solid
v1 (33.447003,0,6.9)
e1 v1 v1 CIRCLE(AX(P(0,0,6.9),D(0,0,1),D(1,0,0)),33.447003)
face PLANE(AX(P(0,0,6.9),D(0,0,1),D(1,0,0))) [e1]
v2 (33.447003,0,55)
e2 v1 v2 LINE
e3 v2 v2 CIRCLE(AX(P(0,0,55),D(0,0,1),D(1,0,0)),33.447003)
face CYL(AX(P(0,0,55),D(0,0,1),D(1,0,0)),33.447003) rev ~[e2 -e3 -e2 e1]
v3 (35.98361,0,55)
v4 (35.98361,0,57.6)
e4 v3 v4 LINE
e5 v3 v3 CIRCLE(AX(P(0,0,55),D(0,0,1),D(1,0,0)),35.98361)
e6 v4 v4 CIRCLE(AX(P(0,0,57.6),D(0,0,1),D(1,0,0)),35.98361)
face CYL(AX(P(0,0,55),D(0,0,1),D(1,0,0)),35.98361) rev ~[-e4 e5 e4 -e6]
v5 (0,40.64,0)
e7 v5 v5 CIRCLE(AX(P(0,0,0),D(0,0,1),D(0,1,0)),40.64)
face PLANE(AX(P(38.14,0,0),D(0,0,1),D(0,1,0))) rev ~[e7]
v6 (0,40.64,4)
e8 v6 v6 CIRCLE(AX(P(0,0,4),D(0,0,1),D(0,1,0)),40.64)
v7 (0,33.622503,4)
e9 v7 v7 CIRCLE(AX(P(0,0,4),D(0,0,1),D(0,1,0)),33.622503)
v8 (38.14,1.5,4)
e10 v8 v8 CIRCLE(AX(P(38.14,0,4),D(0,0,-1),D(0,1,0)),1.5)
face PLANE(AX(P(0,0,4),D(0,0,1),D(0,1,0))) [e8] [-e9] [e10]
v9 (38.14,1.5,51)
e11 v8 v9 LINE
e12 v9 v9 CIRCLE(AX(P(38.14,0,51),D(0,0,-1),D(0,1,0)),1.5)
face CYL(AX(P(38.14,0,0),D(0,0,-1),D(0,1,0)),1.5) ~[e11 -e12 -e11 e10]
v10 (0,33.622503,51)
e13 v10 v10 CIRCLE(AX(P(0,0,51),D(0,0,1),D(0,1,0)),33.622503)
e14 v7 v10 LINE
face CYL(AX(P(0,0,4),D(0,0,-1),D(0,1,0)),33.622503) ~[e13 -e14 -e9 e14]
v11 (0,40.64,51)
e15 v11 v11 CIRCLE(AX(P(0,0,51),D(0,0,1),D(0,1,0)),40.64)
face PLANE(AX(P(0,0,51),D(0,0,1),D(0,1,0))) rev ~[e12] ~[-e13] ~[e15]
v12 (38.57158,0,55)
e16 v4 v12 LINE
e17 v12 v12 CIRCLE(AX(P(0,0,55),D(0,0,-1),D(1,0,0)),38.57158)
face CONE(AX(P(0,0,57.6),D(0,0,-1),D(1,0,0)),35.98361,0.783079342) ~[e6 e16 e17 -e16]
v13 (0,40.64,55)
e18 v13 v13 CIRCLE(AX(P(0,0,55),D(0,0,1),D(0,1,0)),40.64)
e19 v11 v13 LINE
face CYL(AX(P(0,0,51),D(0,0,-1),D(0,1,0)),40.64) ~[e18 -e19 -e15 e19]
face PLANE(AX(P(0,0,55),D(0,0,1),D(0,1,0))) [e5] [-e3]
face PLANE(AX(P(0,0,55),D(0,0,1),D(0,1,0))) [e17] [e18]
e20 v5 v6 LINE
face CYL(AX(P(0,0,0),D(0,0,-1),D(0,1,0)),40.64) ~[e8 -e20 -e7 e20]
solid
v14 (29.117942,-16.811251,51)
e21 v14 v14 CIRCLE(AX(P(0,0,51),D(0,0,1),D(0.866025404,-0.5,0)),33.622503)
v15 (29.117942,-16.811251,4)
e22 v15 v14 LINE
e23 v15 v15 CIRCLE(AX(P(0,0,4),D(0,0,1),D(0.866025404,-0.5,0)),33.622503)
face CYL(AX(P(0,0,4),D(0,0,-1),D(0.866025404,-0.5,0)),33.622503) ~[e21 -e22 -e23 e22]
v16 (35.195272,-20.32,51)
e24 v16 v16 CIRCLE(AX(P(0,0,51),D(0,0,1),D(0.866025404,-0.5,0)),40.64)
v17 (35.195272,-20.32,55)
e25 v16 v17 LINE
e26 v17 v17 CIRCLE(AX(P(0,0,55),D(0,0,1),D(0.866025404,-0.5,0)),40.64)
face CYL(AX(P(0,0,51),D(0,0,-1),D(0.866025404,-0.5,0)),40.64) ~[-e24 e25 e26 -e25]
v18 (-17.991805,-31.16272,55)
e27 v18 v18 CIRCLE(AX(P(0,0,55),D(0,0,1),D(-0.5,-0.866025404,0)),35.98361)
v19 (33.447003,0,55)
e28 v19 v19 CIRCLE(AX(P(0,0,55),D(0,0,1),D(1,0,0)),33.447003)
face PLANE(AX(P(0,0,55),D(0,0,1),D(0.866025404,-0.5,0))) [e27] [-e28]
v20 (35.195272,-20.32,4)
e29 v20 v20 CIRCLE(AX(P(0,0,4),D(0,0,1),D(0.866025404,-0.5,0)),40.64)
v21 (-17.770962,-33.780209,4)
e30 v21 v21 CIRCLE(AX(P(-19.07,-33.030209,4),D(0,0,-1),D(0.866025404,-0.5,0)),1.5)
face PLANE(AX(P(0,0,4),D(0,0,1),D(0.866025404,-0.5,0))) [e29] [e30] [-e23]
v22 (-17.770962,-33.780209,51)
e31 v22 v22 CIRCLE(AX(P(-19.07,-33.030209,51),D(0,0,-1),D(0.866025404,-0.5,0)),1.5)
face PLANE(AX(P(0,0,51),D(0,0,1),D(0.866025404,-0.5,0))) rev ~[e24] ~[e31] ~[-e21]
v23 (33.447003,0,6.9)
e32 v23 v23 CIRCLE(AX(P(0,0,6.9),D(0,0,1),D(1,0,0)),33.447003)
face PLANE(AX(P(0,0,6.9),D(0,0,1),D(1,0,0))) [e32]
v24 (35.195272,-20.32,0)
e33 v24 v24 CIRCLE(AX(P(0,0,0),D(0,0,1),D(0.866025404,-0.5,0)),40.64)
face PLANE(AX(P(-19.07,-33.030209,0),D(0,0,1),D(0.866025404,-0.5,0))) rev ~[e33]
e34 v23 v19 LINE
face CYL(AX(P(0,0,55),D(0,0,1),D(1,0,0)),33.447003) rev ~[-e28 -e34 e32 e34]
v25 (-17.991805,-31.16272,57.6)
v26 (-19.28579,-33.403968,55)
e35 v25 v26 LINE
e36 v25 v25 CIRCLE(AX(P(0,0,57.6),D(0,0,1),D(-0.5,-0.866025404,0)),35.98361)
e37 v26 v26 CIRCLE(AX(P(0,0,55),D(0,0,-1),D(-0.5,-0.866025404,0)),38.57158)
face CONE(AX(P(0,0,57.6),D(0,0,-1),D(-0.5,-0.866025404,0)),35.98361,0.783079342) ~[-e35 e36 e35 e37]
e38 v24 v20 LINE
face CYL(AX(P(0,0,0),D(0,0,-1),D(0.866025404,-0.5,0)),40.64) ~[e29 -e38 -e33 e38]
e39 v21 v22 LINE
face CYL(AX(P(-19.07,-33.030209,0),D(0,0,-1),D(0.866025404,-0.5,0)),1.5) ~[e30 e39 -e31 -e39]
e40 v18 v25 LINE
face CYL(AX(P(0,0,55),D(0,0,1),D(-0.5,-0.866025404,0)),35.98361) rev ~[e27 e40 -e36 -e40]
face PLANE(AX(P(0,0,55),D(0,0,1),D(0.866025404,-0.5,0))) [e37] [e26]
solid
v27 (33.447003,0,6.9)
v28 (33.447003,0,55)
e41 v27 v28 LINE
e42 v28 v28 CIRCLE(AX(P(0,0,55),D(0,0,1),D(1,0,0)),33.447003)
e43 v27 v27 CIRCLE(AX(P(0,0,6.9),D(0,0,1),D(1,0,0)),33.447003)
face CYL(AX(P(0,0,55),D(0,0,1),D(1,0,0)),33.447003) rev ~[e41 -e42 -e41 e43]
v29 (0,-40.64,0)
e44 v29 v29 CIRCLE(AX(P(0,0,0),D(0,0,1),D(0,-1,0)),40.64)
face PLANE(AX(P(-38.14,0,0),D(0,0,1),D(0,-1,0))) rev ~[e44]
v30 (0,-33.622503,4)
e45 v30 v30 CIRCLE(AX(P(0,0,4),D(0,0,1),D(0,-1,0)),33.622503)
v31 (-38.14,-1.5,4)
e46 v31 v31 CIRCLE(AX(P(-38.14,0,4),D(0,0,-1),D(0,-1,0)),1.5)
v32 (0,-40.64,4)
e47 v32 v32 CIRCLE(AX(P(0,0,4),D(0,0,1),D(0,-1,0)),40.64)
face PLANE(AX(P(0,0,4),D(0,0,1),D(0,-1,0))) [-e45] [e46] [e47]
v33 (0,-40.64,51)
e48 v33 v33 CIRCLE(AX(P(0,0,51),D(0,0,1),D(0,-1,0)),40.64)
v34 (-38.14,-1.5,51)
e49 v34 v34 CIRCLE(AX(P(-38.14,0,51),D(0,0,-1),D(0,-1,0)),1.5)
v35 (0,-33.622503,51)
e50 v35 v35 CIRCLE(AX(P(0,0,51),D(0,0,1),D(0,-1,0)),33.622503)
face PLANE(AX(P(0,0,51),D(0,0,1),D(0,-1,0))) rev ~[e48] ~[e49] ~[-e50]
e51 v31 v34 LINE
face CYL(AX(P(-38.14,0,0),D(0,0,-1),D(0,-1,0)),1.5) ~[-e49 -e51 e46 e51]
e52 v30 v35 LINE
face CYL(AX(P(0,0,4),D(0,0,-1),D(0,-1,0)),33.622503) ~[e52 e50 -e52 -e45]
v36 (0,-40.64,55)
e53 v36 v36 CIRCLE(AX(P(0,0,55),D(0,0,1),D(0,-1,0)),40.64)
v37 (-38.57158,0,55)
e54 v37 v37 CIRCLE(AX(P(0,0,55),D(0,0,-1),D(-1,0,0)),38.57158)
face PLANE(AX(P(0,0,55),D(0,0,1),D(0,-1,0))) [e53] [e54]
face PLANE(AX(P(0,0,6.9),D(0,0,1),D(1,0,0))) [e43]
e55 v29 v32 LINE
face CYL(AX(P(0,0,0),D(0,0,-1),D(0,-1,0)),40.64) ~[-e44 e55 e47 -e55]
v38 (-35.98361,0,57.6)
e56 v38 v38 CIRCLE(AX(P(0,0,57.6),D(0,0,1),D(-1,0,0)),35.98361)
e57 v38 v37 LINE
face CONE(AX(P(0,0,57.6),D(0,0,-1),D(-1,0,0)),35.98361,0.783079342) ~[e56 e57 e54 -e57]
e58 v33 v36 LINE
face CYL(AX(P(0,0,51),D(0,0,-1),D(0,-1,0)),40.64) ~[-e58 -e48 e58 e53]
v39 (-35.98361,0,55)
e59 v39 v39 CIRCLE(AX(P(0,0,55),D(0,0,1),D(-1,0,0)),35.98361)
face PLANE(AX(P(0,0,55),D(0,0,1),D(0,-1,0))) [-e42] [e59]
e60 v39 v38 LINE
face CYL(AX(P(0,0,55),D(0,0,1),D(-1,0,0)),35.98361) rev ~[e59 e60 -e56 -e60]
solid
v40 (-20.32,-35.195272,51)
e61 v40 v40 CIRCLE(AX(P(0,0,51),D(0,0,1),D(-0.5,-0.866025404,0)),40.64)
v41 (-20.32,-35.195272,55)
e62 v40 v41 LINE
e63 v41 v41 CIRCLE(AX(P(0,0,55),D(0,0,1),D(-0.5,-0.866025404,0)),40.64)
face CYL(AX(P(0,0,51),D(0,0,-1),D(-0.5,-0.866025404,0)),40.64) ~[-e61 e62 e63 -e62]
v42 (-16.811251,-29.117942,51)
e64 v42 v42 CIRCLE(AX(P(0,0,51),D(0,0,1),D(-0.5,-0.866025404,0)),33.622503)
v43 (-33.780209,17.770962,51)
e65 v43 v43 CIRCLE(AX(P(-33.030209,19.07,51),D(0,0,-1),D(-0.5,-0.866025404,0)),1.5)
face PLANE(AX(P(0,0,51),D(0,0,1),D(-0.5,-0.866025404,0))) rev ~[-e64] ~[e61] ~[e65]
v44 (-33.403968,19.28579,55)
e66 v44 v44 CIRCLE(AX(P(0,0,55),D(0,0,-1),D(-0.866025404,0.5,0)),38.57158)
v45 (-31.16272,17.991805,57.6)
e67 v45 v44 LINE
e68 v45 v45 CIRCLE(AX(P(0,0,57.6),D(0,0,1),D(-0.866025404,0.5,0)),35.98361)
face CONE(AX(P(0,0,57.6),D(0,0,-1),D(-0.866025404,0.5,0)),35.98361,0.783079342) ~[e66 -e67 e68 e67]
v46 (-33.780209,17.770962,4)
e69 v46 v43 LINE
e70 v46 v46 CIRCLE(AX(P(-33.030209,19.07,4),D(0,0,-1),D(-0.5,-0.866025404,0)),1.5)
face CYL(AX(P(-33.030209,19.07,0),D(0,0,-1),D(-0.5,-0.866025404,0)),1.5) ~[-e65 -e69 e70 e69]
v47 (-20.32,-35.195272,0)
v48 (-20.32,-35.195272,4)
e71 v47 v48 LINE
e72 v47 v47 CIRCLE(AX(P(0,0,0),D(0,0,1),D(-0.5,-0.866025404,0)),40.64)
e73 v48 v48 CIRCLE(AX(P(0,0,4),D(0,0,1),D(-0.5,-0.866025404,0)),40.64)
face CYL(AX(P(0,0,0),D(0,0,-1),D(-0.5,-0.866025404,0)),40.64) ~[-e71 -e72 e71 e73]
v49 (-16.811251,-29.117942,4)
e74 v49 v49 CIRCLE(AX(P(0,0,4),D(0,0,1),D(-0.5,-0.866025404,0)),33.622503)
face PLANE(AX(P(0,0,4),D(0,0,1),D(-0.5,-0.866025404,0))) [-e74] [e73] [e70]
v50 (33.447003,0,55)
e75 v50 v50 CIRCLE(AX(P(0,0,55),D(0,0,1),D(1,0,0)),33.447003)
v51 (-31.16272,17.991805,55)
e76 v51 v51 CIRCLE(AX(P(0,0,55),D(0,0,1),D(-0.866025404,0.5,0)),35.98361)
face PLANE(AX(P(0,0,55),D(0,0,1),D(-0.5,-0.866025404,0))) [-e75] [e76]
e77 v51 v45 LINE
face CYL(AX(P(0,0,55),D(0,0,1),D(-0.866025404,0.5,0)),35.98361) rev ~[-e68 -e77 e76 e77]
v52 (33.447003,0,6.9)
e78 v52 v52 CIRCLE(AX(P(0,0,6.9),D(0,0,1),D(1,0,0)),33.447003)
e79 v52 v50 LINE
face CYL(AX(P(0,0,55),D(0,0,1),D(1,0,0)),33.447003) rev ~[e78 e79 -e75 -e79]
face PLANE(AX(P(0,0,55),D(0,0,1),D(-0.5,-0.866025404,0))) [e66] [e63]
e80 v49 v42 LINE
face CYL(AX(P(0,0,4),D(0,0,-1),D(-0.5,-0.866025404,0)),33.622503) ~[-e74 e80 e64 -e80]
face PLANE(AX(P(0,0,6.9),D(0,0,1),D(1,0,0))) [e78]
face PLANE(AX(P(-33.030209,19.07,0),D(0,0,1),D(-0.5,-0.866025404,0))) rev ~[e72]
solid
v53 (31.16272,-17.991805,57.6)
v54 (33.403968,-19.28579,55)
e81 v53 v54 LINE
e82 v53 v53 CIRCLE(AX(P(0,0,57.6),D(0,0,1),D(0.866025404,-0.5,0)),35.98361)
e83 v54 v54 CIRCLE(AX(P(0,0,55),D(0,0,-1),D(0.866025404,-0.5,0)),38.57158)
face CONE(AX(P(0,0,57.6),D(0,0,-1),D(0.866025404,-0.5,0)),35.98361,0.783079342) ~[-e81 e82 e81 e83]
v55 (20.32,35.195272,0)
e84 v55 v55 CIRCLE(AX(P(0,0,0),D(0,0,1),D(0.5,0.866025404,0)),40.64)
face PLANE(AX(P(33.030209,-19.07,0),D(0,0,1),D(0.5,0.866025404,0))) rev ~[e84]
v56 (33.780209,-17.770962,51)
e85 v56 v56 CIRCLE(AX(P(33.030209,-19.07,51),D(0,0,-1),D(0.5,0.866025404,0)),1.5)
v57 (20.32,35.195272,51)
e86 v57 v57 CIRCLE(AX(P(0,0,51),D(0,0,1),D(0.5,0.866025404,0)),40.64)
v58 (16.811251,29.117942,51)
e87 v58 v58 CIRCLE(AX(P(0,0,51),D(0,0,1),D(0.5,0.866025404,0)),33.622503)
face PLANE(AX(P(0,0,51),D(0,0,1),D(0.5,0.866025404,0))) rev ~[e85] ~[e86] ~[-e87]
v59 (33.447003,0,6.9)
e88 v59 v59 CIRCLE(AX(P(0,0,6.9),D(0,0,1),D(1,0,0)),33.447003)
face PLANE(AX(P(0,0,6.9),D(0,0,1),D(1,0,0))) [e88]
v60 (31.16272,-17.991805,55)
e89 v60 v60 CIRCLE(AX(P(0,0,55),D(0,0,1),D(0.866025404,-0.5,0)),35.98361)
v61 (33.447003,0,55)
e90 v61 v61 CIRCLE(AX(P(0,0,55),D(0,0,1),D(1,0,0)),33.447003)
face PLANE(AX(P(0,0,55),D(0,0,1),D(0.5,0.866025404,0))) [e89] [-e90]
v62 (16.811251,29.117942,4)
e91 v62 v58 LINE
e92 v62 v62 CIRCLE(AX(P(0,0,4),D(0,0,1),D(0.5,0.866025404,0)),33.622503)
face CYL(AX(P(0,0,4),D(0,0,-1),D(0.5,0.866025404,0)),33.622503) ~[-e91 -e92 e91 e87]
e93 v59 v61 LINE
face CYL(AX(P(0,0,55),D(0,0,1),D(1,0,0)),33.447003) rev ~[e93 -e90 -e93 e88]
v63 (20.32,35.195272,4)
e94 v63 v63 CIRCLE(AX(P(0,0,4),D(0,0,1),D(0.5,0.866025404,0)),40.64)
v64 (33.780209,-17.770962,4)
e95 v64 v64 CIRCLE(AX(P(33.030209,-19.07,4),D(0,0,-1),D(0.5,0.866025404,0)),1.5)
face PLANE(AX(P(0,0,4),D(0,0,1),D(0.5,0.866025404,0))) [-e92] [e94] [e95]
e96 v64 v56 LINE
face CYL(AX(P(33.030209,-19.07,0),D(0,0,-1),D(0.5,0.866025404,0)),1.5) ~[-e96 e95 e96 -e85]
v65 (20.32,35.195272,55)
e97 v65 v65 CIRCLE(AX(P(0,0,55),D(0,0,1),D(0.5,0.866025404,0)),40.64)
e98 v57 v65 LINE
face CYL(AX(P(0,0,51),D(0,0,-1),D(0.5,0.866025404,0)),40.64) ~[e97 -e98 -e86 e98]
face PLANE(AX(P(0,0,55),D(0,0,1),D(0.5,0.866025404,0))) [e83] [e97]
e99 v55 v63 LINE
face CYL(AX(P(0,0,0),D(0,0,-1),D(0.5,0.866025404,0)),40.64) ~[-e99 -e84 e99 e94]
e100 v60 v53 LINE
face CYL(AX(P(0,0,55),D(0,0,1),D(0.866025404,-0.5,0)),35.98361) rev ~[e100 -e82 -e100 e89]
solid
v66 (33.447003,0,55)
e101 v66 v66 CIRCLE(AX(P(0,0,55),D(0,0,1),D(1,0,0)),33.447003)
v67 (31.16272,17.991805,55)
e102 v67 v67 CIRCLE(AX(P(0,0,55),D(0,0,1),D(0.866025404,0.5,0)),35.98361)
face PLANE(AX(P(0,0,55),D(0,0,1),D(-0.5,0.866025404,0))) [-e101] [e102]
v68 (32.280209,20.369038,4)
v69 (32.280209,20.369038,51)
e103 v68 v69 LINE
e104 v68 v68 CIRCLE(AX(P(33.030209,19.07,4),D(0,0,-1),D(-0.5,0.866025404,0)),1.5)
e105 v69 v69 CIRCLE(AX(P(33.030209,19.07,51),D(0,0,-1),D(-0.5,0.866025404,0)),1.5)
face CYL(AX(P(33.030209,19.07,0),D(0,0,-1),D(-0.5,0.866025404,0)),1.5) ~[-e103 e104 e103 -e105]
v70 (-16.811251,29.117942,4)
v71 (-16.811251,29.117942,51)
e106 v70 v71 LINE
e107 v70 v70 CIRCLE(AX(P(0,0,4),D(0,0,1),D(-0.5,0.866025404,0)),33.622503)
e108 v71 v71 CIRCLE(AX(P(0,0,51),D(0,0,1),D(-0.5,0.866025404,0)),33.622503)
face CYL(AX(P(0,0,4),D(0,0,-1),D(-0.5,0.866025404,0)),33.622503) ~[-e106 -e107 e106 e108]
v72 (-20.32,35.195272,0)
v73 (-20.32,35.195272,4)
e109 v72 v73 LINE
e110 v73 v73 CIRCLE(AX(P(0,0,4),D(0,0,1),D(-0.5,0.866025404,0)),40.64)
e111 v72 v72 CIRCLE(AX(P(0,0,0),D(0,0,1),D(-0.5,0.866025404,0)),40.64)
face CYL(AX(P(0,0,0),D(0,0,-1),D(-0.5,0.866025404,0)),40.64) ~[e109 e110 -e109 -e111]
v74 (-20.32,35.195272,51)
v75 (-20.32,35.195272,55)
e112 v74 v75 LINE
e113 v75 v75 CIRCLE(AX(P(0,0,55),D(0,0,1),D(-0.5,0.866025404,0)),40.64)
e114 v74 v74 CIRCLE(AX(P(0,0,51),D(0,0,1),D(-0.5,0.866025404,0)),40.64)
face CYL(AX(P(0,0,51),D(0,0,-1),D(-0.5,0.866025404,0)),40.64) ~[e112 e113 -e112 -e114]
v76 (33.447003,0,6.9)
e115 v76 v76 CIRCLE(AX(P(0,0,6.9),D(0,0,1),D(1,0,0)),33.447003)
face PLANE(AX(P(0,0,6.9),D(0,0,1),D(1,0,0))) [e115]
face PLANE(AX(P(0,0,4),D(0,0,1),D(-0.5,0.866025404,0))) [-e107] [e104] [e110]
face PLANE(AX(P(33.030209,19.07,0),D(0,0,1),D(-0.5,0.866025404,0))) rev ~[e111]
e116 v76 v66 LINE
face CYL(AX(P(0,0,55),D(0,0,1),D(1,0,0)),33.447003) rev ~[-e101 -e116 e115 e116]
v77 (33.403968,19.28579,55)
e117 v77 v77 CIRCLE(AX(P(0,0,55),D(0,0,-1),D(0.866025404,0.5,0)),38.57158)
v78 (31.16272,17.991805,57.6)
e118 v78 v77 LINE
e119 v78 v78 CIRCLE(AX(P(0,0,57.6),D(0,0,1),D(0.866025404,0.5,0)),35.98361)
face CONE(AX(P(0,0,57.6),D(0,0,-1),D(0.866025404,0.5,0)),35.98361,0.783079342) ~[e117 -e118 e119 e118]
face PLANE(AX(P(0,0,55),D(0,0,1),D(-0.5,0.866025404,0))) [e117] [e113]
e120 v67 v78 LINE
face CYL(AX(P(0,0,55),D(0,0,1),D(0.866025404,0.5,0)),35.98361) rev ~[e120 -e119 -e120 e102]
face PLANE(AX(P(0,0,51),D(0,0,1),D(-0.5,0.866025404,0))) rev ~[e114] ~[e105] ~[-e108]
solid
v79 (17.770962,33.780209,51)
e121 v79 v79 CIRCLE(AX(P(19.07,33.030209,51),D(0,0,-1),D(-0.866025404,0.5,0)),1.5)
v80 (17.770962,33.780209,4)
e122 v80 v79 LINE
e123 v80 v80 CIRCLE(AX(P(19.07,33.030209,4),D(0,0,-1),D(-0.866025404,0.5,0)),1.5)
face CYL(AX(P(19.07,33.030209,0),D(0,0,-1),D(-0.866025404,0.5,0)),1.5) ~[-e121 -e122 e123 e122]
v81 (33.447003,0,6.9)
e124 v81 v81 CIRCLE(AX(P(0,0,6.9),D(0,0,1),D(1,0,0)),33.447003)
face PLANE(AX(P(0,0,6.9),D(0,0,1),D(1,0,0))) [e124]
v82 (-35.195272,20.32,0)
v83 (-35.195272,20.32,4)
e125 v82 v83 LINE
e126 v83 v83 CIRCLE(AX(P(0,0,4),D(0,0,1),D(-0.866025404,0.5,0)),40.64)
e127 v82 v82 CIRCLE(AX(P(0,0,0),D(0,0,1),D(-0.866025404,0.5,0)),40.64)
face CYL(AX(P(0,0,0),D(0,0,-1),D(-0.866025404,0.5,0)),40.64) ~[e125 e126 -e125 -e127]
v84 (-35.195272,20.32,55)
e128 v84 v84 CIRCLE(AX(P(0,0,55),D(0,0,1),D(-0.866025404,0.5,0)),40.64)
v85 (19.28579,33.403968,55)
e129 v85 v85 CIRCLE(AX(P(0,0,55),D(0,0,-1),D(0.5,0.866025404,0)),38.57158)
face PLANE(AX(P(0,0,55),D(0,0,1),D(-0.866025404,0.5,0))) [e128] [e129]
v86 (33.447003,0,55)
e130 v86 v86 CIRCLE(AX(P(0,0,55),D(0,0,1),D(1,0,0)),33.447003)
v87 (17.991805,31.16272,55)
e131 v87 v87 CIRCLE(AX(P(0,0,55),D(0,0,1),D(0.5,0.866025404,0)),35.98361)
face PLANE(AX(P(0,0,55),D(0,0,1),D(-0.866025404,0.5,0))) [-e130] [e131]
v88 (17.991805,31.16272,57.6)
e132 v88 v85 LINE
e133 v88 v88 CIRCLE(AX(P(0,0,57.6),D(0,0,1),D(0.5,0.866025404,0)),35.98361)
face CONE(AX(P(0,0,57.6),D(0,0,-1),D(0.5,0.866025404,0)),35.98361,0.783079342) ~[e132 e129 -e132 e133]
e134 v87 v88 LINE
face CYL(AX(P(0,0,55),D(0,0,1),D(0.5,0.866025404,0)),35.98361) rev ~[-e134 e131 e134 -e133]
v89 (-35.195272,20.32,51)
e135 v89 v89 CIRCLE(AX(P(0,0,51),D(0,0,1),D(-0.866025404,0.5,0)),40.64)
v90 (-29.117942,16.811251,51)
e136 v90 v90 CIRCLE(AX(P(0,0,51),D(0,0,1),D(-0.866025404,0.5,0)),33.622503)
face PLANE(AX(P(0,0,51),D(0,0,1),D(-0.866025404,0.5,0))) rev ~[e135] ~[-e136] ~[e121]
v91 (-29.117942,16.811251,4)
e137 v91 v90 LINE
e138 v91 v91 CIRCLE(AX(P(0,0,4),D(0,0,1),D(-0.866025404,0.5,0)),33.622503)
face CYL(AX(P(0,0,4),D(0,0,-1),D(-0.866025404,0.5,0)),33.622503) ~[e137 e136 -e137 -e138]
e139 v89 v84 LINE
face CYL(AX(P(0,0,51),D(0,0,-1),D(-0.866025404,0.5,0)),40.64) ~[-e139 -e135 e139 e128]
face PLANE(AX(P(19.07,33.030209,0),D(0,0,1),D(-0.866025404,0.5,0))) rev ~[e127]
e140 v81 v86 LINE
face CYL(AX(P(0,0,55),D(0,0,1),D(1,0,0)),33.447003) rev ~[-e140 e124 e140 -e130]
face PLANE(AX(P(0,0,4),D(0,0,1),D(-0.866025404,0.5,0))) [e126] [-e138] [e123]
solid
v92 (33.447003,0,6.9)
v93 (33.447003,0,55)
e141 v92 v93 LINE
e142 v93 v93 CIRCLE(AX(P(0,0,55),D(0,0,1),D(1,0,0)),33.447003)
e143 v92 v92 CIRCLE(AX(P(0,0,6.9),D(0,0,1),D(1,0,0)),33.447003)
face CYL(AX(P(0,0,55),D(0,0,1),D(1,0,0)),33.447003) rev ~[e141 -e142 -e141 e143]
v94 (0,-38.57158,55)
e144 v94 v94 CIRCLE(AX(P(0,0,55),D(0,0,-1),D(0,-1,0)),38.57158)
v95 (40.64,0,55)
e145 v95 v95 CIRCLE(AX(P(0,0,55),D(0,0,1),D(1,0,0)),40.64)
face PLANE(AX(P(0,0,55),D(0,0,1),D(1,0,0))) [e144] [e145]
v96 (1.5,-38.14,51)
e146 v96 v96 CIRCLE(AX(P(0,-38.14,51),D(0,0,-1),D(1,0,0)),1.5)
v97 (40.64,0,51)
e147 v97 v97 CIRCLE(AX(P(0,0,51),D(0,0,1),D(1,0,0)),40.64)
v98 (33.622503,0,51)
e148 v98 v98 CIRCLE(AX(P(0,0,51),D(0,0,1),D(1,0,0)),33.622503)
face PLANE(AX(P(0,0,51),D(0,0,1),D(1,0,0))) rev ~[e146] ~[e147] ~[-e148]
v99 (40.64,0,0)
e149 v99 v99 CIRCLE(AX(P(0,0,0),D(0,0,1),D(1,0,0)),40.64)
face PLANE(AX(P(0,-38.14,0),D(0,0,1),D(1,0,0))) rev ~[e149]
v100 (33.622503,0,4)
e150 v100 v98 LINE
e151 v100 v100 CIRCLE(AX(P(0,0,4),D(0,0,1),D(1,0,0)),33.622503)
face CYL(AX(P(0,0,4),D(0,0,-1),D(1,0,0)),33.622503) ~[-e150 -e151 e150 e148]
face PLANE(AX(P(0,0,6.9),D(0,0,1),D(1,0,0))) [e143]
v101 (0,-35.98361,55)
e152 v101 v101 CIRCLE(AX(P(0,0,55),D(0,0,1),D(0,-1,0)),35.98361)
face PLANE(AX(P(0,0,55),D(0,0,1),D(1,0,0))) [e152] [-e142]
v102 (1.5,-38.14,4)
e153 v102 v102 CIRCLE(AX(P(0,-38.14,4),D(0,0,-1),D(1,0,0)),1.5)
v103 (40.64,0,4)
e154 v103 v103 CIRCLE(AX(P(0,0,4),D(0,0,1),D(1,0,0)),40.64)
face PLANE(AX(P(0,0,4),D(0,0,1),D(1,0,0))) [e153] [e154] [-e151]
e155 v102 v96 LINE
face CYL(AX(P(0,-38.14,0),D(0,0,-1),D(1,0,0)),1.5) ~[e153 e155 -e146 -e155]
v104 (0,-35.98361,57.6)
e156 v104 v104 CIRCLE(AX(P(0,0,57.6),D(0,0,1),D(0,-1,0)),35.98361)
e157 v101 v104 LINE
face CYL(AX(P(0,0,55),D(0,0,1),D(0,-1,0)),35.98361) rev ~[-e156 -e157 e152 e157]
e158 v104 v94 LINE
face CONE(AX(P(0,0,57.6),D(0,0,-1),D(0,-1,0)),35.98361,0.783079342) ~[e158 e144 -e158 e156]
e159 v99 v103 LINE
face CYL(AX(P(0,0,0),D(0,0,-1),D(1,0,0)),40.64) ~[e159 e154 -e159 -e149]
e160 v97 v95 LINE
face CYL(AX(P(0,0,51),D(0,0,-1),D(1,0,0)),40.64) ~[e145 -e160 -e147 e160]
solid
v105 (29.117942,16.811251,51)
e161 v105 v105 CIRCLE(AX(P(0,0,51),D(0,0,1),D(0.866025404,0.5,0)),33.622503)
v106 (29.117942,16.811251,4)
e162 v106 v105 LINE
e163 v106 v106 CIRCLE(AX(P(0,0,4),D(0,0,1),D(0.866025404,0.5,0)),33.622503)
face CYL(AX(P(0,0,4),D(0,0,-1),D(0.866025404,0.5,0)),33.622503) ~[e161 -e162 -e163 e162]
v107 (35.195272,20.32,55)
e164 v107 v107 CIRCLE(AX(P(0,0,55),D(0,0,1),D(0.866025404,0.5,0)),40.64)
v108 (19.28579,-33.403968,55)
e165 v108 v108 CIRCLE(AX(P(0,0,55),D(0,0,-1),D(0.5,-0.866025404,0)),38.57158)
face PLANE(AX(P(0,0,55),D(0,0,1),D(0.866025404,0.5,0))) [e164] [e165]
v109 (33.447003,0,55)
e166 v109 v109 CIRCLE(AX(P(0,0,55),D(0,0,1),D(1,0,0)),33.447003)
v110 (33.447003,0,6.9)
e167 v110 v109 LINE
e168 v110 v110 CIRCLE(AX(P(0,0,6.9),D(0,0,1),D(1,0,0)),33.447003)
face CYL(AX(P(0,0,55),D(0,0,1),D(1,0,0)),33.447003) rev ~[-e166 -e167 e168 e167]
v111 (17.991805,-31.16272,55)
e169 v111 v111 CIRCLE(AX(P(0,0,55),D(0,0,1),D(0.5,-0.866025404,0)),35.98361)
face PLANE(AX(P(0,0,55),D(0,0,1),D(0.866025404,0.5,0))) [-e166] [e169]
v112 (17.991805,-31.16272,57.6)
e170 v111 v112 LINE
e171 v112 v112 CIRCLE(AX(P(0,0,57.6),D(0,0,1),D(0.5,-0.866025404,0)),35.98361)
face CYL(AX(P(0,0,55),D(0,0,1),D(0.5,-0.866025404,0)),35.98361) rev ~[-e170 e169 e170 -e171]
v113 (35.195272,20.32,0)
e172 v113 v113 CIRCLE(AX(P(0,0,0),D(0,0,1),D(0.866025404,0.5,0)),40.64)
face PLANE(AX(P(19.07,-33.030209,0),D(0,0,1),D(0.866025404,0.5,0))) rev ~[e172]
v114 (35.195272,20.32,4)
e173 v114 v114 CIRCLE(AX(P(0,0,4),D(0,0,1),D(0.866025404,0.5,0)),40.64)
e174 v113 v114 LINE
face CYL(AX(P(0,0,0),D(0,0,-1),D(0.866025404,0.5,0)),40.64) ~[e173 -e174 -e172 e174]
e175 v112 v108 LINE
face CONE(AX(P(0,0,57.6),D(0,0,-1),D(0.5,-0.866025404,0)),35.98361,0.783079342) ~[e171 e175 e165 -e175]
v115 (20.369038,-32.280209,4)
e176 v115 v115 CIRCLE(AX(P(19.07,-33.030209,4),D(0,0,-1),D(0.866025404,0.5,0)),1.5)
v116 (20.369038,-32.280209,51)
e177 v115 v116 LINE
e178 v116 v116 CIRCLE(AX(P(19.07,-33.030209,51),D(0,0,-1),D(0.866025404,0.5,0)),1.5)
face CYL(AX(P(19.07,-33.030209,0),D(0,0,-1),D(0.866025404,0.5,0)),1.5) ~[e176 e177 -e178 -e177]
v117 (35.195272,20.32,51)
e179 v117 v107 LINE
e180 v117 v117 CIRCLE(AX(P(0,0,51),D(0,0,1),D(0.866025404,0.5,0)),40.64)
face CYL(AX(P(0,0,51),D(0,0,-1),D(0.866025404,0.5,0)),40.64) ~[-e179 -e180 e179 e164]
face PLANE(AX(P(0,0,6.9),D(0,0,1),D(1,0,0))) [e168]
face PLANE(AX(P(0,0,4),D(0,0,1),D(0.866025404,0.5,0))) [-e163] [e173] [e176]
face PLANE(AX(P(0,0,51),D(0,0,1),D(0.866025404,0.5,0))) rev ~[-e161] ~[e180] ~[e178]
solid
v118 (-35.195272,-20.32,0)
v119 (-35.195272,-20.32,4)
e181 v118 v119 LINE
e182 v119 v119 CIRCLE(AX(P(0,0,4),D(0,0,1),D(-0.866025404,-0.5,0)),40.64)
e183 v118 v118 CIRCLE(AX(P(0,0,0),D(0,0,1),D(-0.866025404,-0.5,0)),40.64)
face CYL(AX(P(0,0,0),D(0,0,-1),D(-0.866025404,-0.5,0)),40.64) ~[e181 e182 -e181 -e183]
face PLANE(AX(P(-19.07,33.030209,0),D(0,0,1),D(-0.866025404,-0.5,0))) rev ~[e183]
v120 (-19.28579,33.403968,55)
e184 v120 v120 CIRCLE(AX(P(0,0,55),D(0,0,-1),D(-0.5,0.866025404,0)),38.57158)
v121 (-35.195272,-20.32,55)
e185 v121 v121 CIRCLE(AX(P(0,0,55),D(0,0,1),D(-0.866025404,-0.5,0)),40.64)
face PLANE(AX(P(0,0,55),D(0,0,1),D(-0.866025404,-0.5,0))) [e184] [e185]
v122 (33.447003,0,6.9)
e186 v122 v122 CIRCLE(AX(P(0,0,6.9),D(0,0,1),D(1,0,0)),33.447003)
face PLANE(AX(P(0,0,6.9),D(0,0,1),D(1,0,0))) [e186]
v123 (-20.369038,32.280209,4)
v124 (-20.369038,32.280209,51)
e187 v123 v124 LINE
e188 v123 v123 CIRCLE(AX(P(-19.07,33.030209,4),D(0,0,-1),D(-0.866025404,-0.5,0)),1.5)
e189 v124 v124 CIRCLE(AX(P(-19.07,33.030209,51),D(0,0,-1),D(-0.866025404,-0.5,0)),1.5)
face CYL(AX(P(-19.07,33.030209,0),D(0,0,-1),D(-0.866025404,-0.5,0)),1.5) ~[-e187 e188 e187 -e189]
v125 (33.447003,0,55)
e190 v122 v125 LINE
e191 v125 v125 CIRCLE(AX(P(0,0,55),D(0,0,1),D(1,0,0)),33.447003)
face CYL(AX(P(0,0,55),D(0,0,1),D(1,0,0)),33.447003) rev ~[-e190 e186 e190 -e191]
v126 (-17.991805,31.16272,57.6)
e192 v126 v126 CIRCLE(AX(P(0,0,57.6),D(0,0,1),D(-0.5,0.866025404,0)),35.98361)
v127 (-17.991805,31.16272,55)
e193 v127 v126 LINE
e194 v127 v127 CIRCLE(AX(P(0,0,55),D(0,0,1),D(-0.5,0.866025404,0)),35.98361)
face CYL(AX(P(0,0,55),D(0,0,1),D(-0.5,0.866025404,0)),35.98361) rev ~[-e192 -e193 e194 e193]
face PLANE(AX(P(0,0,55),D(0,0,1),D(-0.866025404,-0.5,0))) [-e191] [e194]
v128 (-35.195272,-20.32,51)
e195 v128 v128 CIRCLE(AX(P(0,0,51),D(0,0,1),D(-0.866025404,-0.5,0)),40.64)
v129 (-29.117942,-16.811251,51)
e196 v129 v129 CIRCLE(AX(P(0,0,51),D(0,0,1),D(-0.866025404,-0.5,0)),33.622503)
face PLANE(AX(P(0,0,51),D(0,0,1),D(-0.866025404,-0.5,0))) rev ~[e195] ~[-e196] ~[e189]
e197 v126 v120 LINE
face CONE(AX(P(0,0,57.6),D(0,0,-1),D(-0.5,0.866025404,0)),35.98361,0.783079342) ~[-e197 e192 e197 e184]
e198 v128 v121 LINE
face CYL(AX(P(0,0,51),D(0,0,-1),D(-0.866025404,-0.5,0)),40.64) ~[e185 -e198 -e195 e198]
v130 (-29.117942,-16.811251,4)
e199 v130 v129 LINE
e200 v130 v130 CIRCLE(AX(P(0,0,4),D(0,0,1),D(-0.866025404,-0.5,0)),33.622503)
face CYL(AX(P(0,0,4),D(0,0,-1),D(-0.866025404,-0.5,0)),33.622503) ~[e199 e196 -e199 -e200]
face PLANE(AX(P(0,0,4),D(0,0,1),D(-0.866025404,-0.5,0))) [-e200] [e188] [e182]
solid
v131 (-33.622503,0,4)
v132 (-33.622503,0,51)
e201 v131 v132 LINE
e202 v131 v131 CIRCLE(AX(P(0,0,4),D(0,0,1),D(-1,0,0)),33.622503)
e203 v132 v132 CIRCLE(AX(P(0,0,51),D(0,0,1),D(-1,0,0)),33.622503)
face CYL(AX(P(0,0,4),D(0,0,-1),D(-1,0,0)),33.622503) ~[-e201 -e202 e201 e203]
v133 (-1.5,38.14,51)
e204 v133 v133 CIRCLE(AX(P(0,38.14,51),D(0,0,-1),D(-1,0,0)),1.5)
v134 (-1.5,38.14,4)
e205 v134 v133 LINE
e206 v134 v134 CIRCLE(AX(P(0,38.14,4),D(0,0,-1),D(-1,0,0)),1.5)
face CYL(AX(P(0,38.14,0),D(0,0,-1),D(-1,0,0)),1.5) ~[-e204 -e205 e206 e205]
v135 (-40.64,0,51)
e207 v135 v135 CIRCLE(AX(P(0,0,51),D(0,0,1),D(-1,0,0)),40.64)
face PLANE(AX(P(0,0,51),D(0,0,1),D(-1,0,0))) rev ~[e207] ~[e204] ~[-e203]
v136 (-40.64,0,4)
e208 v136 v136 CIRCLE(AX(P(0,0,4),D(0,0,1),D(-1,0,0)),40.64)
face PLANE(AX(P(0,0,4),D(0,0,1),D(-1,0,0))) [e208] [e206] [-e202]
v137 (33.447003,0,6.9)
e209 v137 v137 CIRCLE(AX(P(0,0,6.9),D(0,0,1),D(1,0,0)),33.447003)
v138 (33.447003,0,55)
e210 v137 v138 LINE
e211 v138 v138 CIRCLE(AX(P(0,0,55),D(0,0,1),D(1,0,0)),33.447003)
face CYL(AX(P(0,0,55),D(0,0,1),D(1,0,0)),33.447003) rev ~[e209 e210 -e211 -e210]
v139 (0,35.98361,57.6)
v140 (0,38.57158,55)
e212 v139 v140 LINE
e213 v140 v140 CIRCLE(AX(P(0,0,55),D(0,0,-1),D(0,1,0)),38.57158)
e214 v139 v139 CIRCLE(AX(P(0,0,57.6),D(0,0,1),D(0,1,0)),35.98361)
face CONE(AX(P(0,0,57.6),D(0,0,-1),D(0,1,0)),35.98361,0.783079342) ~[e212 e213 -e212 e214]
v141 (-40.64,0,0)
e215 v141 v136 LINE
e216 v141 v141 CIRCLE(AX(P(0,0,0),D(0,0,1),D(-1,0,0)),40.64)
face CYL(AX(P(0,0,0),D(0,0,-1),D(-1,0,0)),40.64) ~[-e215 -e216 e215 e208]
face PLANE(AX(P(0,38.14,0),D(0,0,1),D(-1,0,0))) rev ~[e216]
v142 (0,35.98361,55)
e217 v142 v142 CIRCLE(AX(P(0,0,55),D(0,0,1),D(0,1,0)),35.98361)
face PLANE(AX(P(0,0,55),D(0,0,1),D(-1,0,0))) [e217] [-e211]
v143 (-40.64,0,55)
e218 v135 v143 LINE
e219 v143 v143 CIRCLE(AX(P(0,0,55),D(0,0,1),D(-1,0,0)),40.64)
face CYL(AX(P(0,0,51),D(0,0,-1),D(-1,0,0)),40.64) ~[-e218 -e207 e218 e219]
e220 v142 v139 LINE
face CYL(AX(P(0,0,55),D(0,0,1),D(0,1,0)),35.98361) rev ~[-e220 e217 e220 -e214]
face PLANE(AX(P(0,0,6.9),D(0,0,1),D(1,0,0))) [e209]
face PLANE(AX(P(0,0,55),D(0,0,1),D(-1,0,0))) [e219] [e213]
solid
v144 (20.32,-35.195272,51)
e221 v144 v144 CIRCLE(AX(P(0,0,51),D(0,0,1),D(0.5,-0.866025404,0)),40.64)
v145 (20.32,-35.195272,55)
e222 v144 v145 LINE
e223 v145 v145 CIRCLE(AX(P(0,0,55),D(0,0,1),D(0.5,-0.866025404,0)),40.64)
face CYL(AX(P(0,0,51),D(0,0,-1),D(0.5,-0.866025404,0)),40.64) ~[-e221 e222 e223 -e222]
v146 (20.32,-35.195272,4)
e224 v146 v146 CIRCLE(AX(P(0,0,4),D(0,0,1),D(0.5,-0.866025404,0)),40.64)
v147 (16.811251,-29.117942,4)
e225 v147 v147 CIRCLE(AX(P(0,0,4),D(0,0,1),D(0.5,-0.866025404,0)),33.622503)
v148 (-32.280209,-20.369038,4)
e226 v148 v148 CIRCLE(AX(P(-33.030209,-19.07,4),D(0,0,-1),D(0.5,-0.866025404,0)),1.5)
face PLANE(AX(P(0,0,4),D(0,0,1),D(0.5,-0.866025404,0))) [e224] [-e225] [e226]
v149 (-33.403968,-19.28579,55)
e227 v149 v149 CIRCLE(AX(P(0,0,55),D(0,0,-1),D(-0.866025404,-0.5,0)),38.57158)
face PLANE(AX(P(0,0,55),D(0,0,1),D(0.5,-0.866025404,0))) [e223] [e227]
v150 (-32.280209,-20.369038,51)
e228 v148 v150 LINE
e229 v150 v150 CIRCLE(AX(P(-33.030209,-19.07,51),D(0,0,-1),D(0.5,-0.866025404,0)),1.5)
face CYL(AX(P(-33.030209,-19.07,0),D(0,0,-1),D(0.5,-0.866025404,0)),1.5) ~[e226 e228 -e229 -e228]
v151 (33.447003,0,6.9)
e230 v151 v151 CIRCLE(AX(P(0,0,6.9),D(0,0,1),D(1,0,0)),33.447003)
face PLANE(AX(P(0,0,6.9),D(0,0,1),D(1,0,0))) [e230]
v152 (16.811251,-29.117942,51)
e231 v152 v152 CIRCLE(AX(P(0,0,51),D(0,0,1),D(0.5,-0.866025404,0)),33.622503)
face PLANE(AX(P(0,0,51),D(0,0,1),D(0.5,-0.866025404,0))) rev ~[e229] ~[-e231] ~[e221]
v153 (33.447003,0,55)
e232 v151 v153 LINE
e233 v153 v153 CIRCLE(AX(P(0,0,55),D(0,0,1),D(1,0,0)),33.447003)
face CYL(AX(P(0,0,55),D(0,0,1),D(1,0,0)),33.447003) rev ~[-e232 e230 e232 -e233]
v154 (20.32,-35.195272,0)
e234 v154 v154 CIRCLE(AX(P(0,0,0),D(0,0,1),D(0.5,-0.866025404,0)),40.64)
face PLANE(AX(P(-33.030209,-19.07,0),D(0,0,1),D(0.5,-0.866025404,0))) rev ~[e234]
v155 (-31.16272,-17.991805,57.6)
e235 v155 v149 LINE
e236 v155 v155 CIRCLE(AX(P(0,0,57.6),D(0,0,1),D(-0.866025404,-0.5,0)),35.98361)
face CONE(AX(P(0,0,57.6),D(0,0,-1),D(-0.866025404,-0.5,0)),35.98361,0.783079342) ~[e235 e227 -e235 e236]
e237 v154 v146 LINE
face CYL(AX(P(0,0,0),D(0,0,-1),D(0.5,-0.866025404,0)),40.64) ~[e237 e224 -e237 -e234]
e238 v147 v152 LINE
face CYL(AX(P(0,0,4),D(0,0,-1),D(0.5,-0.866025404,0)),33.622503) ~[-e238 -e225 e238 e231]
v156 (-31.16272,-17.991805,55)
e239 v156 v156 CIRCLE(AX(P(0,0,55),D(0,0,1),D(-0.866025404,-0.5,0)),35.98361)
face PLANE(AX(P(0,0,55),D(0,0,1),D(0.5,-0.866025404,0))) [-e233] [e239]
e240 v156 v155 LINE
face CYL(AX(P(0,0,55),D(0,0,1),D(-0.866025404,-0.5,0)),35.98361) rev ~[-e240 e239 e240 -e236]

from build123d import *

# Parameters (mm, degrees)
F0_R      = 40.64
F1_DEPTH  = 4
F2_R      = 33.6225029932
F3_DEPTH  = 47
F4_R      = 40.64
F4_R_2    = 33.6225029932
F5_DEPTH  = 4
F8_R      = 1.5
F9_DEPTH  = 55
F11_COUNT = 12
F12_R     = 33.4470028122
F13_DEPTH = 48.1


with BuildPart() as f1:
    # F0 (on Top) → F1 (new body)
    with BuildSketch(Plane.XY):
        Circle(F0_R)
    extrude(amount=F1_DEPTH)

    # F2 (on face) → F3 (join)
    with BuildSketch(Plane.XY.offset(4)):
        Circle(F2_R)
    extrude(amount=F3_DEPTH)

    # F4 (on face) → F5 (join)
    with BuildSketch(Plane.XY.offset(51)):
        Circle(F4_R)
        Circle(F4_R_2, mode=Mode.SUBTRACT)
        Circle(F4_R_2)
    extrude(amount=F5_DEPTH)

    # F6 (on Right) → F7 (revolve)
    with BuildSketch(Plane.YZ):
        Polygon((-35.98361, 57.6), (-38.57158, 55), (-35.98361, 55), align=None)
    revolve(axis=Axis((0, 0, 58.642713353), (0, 0, 1)))

    # F8 (on face) → F9 (join)
    with BuildSketch(Plane.XY):
        with Locations((0, -38.14)):
            Circle(F8_R)
    extrude(amount=F9_DEPTH)


with BuildPart() as f11_1:
    # F11: instance of F1
    add(f1.part.rotate(Axis((0, 0, 22.0688153058), (0, 0, 1)), 1 * 360 / F11_COUNT))


with BuildPart() as f11_2:
    # F11: instance of F1
    add(f1.part.rotate(Axis((0, 0, 22.0688153058), (0, 0, 1)), 2 * 360 / F11_COUNT))


with BuildPart() as f11_3:
    # F11: instance of F1
    add(f1.part.rotate(Axis((0, 0, 22.0688153058), (0, 0, 1)), 3 * 360 / F11_COUNT))


with BuildPart() as f11_4:
    # F11: instance of F1
    add(f1.part.rotate(Axis((0, 0, 22.0688153058), (0, 0, 1)), 4 * 360 / F11_COUNT))


with BuildPart() as f11_5:
    # F11: instance of F1
    add(f1.part.rotate(Axis((0, 0, 22.0688153058), (0, 0, 1)), 5 * 360 / F11_COUNT))


with BuildPart() as f11_6:
    # F11: instance of F1
    add(f1.part.rotate(Axis((0, 0, 22.0688153058), (0, 0, 1)), 6 * 360 / F11_COUNT))


with BuildPart() as f11_7:
    # F11: instance of F1
    add(f1.part.rotate(Axis((0, 0, 22.0688153058), (0, 0, 1)), 7 * 360 / F11_COUNT))


with BuildPart() as f11_8:
    # F11: instance of F1
    add(f1.part.rotate(Axis((0, 0, 22.0688153058), (0, 0, 1)), 8 * 360 / F11_COUNT))


with BuildPart() as f11_9:
    # F11: instance of F1
    add(f1.part.rotate(Axis((0, 0, 22.0688153058), (0, 0, 1)), 9 * 360 / F11_COUNT))


with BuildPart() as f11_10:
    # F11: instance of F1
    add(f1.part.rotate(Axis((0, 0, 22.0688153058), (0, 0, 1)), 10 * 360 / F11_COUNT))


with BuildPart() as f11_11:
    # F11: instance of F1
    add(f1.part.rotate(Axis((0, 0, 22.0688153058), (0, 0, 1)), 11 * 360 / F11_COUNT))


with BuildPart() as f13_tool:
    # F12 (on face) → F13 (new body, symmetric)
    with BuildSketch(Plane.XY.offset(55)):
        Circle(F12_R)
    extrude(amount=F13_DEPTH, both=True)


with BuildPart() as f1_1:
    add(f1.part)

    # F13: cut by f13_tool
    add(f13_tool.part, mode=Mode.SUBTRACT)


with BuildPart() as f11_1_1:
    add(f11_1.part)

    # F13: cut by f13_tool
    add(f13_tool.part, mode=Mode.SUBTRACT)


with BuildPart() as f11_2_1:
    add(f11_2.part)

    # F13: cut by f13_tool
    add(f13_tool.part, mode=Mode.SUBTRACT)


with BuildPart() as f11_3_1:
    add(f11_3.part)

    # F13: cut by f13_tool
    add(f13_tool.part, mode=Mode.SUBTRACT)


with BuildPart() as f11_4_1:
    add(f11_4.part)

    # F13: cut by f13_tool
    add(f13_tool.part, mode=Mode.SUBTRACT)


with BuildPart() as f11_5_1:
    add(f11_5.part)

    # F13: cut by f13_tool
    add(f13_tool.part, mode=Mode.SUBTRACT)


with BuildPart() as f11_6_1:
    add(f11_6.part)

    # F13: cut by f13_tool
    add(f13_tool.part, mode=Mode.SUBTRACT)


with BuildPart() as f11_7_1:
    add(f11_7.part)

    # F13: cut by f13_tool
    add(f13_tool.part, mode=Mode.SUBTRACT)


with BuildPart() as f11_8_1:
    add(f11_8.part)

    # F13: cut by f13_tool
    add(f13_tool.part, mode=Mode.SUBTRACT)


with BuildPart() as f11_9_1:
    add(f11_9.part)

    # F13: cut by f13_tool
    add(f13_tool.part, mode=Mode.SUBTRACT)


with BuildPart() as f11_10_1:
    add(f11_10.part)

    # F13: cut by f13_tool
    add(f13_tool.part, mode=Mode.SUBTRACT)


with BuildPart() as f11_11_1:
    add(f11_11.part)

    # F13: cut by f13_tool
    add(f13_tool.part, mode=Mode.SUBTRACT)


solid = Compound([f1_1.part, f11_1_1.part, f11_2_1.part, f11_3_1.part, f11_4_1.part, f11_5_1.part, f11_6_1.part, f11_7_1.part, f11_8_1.part, f11_9_1.part, f11_10_1.part, f11_11_1.part])
